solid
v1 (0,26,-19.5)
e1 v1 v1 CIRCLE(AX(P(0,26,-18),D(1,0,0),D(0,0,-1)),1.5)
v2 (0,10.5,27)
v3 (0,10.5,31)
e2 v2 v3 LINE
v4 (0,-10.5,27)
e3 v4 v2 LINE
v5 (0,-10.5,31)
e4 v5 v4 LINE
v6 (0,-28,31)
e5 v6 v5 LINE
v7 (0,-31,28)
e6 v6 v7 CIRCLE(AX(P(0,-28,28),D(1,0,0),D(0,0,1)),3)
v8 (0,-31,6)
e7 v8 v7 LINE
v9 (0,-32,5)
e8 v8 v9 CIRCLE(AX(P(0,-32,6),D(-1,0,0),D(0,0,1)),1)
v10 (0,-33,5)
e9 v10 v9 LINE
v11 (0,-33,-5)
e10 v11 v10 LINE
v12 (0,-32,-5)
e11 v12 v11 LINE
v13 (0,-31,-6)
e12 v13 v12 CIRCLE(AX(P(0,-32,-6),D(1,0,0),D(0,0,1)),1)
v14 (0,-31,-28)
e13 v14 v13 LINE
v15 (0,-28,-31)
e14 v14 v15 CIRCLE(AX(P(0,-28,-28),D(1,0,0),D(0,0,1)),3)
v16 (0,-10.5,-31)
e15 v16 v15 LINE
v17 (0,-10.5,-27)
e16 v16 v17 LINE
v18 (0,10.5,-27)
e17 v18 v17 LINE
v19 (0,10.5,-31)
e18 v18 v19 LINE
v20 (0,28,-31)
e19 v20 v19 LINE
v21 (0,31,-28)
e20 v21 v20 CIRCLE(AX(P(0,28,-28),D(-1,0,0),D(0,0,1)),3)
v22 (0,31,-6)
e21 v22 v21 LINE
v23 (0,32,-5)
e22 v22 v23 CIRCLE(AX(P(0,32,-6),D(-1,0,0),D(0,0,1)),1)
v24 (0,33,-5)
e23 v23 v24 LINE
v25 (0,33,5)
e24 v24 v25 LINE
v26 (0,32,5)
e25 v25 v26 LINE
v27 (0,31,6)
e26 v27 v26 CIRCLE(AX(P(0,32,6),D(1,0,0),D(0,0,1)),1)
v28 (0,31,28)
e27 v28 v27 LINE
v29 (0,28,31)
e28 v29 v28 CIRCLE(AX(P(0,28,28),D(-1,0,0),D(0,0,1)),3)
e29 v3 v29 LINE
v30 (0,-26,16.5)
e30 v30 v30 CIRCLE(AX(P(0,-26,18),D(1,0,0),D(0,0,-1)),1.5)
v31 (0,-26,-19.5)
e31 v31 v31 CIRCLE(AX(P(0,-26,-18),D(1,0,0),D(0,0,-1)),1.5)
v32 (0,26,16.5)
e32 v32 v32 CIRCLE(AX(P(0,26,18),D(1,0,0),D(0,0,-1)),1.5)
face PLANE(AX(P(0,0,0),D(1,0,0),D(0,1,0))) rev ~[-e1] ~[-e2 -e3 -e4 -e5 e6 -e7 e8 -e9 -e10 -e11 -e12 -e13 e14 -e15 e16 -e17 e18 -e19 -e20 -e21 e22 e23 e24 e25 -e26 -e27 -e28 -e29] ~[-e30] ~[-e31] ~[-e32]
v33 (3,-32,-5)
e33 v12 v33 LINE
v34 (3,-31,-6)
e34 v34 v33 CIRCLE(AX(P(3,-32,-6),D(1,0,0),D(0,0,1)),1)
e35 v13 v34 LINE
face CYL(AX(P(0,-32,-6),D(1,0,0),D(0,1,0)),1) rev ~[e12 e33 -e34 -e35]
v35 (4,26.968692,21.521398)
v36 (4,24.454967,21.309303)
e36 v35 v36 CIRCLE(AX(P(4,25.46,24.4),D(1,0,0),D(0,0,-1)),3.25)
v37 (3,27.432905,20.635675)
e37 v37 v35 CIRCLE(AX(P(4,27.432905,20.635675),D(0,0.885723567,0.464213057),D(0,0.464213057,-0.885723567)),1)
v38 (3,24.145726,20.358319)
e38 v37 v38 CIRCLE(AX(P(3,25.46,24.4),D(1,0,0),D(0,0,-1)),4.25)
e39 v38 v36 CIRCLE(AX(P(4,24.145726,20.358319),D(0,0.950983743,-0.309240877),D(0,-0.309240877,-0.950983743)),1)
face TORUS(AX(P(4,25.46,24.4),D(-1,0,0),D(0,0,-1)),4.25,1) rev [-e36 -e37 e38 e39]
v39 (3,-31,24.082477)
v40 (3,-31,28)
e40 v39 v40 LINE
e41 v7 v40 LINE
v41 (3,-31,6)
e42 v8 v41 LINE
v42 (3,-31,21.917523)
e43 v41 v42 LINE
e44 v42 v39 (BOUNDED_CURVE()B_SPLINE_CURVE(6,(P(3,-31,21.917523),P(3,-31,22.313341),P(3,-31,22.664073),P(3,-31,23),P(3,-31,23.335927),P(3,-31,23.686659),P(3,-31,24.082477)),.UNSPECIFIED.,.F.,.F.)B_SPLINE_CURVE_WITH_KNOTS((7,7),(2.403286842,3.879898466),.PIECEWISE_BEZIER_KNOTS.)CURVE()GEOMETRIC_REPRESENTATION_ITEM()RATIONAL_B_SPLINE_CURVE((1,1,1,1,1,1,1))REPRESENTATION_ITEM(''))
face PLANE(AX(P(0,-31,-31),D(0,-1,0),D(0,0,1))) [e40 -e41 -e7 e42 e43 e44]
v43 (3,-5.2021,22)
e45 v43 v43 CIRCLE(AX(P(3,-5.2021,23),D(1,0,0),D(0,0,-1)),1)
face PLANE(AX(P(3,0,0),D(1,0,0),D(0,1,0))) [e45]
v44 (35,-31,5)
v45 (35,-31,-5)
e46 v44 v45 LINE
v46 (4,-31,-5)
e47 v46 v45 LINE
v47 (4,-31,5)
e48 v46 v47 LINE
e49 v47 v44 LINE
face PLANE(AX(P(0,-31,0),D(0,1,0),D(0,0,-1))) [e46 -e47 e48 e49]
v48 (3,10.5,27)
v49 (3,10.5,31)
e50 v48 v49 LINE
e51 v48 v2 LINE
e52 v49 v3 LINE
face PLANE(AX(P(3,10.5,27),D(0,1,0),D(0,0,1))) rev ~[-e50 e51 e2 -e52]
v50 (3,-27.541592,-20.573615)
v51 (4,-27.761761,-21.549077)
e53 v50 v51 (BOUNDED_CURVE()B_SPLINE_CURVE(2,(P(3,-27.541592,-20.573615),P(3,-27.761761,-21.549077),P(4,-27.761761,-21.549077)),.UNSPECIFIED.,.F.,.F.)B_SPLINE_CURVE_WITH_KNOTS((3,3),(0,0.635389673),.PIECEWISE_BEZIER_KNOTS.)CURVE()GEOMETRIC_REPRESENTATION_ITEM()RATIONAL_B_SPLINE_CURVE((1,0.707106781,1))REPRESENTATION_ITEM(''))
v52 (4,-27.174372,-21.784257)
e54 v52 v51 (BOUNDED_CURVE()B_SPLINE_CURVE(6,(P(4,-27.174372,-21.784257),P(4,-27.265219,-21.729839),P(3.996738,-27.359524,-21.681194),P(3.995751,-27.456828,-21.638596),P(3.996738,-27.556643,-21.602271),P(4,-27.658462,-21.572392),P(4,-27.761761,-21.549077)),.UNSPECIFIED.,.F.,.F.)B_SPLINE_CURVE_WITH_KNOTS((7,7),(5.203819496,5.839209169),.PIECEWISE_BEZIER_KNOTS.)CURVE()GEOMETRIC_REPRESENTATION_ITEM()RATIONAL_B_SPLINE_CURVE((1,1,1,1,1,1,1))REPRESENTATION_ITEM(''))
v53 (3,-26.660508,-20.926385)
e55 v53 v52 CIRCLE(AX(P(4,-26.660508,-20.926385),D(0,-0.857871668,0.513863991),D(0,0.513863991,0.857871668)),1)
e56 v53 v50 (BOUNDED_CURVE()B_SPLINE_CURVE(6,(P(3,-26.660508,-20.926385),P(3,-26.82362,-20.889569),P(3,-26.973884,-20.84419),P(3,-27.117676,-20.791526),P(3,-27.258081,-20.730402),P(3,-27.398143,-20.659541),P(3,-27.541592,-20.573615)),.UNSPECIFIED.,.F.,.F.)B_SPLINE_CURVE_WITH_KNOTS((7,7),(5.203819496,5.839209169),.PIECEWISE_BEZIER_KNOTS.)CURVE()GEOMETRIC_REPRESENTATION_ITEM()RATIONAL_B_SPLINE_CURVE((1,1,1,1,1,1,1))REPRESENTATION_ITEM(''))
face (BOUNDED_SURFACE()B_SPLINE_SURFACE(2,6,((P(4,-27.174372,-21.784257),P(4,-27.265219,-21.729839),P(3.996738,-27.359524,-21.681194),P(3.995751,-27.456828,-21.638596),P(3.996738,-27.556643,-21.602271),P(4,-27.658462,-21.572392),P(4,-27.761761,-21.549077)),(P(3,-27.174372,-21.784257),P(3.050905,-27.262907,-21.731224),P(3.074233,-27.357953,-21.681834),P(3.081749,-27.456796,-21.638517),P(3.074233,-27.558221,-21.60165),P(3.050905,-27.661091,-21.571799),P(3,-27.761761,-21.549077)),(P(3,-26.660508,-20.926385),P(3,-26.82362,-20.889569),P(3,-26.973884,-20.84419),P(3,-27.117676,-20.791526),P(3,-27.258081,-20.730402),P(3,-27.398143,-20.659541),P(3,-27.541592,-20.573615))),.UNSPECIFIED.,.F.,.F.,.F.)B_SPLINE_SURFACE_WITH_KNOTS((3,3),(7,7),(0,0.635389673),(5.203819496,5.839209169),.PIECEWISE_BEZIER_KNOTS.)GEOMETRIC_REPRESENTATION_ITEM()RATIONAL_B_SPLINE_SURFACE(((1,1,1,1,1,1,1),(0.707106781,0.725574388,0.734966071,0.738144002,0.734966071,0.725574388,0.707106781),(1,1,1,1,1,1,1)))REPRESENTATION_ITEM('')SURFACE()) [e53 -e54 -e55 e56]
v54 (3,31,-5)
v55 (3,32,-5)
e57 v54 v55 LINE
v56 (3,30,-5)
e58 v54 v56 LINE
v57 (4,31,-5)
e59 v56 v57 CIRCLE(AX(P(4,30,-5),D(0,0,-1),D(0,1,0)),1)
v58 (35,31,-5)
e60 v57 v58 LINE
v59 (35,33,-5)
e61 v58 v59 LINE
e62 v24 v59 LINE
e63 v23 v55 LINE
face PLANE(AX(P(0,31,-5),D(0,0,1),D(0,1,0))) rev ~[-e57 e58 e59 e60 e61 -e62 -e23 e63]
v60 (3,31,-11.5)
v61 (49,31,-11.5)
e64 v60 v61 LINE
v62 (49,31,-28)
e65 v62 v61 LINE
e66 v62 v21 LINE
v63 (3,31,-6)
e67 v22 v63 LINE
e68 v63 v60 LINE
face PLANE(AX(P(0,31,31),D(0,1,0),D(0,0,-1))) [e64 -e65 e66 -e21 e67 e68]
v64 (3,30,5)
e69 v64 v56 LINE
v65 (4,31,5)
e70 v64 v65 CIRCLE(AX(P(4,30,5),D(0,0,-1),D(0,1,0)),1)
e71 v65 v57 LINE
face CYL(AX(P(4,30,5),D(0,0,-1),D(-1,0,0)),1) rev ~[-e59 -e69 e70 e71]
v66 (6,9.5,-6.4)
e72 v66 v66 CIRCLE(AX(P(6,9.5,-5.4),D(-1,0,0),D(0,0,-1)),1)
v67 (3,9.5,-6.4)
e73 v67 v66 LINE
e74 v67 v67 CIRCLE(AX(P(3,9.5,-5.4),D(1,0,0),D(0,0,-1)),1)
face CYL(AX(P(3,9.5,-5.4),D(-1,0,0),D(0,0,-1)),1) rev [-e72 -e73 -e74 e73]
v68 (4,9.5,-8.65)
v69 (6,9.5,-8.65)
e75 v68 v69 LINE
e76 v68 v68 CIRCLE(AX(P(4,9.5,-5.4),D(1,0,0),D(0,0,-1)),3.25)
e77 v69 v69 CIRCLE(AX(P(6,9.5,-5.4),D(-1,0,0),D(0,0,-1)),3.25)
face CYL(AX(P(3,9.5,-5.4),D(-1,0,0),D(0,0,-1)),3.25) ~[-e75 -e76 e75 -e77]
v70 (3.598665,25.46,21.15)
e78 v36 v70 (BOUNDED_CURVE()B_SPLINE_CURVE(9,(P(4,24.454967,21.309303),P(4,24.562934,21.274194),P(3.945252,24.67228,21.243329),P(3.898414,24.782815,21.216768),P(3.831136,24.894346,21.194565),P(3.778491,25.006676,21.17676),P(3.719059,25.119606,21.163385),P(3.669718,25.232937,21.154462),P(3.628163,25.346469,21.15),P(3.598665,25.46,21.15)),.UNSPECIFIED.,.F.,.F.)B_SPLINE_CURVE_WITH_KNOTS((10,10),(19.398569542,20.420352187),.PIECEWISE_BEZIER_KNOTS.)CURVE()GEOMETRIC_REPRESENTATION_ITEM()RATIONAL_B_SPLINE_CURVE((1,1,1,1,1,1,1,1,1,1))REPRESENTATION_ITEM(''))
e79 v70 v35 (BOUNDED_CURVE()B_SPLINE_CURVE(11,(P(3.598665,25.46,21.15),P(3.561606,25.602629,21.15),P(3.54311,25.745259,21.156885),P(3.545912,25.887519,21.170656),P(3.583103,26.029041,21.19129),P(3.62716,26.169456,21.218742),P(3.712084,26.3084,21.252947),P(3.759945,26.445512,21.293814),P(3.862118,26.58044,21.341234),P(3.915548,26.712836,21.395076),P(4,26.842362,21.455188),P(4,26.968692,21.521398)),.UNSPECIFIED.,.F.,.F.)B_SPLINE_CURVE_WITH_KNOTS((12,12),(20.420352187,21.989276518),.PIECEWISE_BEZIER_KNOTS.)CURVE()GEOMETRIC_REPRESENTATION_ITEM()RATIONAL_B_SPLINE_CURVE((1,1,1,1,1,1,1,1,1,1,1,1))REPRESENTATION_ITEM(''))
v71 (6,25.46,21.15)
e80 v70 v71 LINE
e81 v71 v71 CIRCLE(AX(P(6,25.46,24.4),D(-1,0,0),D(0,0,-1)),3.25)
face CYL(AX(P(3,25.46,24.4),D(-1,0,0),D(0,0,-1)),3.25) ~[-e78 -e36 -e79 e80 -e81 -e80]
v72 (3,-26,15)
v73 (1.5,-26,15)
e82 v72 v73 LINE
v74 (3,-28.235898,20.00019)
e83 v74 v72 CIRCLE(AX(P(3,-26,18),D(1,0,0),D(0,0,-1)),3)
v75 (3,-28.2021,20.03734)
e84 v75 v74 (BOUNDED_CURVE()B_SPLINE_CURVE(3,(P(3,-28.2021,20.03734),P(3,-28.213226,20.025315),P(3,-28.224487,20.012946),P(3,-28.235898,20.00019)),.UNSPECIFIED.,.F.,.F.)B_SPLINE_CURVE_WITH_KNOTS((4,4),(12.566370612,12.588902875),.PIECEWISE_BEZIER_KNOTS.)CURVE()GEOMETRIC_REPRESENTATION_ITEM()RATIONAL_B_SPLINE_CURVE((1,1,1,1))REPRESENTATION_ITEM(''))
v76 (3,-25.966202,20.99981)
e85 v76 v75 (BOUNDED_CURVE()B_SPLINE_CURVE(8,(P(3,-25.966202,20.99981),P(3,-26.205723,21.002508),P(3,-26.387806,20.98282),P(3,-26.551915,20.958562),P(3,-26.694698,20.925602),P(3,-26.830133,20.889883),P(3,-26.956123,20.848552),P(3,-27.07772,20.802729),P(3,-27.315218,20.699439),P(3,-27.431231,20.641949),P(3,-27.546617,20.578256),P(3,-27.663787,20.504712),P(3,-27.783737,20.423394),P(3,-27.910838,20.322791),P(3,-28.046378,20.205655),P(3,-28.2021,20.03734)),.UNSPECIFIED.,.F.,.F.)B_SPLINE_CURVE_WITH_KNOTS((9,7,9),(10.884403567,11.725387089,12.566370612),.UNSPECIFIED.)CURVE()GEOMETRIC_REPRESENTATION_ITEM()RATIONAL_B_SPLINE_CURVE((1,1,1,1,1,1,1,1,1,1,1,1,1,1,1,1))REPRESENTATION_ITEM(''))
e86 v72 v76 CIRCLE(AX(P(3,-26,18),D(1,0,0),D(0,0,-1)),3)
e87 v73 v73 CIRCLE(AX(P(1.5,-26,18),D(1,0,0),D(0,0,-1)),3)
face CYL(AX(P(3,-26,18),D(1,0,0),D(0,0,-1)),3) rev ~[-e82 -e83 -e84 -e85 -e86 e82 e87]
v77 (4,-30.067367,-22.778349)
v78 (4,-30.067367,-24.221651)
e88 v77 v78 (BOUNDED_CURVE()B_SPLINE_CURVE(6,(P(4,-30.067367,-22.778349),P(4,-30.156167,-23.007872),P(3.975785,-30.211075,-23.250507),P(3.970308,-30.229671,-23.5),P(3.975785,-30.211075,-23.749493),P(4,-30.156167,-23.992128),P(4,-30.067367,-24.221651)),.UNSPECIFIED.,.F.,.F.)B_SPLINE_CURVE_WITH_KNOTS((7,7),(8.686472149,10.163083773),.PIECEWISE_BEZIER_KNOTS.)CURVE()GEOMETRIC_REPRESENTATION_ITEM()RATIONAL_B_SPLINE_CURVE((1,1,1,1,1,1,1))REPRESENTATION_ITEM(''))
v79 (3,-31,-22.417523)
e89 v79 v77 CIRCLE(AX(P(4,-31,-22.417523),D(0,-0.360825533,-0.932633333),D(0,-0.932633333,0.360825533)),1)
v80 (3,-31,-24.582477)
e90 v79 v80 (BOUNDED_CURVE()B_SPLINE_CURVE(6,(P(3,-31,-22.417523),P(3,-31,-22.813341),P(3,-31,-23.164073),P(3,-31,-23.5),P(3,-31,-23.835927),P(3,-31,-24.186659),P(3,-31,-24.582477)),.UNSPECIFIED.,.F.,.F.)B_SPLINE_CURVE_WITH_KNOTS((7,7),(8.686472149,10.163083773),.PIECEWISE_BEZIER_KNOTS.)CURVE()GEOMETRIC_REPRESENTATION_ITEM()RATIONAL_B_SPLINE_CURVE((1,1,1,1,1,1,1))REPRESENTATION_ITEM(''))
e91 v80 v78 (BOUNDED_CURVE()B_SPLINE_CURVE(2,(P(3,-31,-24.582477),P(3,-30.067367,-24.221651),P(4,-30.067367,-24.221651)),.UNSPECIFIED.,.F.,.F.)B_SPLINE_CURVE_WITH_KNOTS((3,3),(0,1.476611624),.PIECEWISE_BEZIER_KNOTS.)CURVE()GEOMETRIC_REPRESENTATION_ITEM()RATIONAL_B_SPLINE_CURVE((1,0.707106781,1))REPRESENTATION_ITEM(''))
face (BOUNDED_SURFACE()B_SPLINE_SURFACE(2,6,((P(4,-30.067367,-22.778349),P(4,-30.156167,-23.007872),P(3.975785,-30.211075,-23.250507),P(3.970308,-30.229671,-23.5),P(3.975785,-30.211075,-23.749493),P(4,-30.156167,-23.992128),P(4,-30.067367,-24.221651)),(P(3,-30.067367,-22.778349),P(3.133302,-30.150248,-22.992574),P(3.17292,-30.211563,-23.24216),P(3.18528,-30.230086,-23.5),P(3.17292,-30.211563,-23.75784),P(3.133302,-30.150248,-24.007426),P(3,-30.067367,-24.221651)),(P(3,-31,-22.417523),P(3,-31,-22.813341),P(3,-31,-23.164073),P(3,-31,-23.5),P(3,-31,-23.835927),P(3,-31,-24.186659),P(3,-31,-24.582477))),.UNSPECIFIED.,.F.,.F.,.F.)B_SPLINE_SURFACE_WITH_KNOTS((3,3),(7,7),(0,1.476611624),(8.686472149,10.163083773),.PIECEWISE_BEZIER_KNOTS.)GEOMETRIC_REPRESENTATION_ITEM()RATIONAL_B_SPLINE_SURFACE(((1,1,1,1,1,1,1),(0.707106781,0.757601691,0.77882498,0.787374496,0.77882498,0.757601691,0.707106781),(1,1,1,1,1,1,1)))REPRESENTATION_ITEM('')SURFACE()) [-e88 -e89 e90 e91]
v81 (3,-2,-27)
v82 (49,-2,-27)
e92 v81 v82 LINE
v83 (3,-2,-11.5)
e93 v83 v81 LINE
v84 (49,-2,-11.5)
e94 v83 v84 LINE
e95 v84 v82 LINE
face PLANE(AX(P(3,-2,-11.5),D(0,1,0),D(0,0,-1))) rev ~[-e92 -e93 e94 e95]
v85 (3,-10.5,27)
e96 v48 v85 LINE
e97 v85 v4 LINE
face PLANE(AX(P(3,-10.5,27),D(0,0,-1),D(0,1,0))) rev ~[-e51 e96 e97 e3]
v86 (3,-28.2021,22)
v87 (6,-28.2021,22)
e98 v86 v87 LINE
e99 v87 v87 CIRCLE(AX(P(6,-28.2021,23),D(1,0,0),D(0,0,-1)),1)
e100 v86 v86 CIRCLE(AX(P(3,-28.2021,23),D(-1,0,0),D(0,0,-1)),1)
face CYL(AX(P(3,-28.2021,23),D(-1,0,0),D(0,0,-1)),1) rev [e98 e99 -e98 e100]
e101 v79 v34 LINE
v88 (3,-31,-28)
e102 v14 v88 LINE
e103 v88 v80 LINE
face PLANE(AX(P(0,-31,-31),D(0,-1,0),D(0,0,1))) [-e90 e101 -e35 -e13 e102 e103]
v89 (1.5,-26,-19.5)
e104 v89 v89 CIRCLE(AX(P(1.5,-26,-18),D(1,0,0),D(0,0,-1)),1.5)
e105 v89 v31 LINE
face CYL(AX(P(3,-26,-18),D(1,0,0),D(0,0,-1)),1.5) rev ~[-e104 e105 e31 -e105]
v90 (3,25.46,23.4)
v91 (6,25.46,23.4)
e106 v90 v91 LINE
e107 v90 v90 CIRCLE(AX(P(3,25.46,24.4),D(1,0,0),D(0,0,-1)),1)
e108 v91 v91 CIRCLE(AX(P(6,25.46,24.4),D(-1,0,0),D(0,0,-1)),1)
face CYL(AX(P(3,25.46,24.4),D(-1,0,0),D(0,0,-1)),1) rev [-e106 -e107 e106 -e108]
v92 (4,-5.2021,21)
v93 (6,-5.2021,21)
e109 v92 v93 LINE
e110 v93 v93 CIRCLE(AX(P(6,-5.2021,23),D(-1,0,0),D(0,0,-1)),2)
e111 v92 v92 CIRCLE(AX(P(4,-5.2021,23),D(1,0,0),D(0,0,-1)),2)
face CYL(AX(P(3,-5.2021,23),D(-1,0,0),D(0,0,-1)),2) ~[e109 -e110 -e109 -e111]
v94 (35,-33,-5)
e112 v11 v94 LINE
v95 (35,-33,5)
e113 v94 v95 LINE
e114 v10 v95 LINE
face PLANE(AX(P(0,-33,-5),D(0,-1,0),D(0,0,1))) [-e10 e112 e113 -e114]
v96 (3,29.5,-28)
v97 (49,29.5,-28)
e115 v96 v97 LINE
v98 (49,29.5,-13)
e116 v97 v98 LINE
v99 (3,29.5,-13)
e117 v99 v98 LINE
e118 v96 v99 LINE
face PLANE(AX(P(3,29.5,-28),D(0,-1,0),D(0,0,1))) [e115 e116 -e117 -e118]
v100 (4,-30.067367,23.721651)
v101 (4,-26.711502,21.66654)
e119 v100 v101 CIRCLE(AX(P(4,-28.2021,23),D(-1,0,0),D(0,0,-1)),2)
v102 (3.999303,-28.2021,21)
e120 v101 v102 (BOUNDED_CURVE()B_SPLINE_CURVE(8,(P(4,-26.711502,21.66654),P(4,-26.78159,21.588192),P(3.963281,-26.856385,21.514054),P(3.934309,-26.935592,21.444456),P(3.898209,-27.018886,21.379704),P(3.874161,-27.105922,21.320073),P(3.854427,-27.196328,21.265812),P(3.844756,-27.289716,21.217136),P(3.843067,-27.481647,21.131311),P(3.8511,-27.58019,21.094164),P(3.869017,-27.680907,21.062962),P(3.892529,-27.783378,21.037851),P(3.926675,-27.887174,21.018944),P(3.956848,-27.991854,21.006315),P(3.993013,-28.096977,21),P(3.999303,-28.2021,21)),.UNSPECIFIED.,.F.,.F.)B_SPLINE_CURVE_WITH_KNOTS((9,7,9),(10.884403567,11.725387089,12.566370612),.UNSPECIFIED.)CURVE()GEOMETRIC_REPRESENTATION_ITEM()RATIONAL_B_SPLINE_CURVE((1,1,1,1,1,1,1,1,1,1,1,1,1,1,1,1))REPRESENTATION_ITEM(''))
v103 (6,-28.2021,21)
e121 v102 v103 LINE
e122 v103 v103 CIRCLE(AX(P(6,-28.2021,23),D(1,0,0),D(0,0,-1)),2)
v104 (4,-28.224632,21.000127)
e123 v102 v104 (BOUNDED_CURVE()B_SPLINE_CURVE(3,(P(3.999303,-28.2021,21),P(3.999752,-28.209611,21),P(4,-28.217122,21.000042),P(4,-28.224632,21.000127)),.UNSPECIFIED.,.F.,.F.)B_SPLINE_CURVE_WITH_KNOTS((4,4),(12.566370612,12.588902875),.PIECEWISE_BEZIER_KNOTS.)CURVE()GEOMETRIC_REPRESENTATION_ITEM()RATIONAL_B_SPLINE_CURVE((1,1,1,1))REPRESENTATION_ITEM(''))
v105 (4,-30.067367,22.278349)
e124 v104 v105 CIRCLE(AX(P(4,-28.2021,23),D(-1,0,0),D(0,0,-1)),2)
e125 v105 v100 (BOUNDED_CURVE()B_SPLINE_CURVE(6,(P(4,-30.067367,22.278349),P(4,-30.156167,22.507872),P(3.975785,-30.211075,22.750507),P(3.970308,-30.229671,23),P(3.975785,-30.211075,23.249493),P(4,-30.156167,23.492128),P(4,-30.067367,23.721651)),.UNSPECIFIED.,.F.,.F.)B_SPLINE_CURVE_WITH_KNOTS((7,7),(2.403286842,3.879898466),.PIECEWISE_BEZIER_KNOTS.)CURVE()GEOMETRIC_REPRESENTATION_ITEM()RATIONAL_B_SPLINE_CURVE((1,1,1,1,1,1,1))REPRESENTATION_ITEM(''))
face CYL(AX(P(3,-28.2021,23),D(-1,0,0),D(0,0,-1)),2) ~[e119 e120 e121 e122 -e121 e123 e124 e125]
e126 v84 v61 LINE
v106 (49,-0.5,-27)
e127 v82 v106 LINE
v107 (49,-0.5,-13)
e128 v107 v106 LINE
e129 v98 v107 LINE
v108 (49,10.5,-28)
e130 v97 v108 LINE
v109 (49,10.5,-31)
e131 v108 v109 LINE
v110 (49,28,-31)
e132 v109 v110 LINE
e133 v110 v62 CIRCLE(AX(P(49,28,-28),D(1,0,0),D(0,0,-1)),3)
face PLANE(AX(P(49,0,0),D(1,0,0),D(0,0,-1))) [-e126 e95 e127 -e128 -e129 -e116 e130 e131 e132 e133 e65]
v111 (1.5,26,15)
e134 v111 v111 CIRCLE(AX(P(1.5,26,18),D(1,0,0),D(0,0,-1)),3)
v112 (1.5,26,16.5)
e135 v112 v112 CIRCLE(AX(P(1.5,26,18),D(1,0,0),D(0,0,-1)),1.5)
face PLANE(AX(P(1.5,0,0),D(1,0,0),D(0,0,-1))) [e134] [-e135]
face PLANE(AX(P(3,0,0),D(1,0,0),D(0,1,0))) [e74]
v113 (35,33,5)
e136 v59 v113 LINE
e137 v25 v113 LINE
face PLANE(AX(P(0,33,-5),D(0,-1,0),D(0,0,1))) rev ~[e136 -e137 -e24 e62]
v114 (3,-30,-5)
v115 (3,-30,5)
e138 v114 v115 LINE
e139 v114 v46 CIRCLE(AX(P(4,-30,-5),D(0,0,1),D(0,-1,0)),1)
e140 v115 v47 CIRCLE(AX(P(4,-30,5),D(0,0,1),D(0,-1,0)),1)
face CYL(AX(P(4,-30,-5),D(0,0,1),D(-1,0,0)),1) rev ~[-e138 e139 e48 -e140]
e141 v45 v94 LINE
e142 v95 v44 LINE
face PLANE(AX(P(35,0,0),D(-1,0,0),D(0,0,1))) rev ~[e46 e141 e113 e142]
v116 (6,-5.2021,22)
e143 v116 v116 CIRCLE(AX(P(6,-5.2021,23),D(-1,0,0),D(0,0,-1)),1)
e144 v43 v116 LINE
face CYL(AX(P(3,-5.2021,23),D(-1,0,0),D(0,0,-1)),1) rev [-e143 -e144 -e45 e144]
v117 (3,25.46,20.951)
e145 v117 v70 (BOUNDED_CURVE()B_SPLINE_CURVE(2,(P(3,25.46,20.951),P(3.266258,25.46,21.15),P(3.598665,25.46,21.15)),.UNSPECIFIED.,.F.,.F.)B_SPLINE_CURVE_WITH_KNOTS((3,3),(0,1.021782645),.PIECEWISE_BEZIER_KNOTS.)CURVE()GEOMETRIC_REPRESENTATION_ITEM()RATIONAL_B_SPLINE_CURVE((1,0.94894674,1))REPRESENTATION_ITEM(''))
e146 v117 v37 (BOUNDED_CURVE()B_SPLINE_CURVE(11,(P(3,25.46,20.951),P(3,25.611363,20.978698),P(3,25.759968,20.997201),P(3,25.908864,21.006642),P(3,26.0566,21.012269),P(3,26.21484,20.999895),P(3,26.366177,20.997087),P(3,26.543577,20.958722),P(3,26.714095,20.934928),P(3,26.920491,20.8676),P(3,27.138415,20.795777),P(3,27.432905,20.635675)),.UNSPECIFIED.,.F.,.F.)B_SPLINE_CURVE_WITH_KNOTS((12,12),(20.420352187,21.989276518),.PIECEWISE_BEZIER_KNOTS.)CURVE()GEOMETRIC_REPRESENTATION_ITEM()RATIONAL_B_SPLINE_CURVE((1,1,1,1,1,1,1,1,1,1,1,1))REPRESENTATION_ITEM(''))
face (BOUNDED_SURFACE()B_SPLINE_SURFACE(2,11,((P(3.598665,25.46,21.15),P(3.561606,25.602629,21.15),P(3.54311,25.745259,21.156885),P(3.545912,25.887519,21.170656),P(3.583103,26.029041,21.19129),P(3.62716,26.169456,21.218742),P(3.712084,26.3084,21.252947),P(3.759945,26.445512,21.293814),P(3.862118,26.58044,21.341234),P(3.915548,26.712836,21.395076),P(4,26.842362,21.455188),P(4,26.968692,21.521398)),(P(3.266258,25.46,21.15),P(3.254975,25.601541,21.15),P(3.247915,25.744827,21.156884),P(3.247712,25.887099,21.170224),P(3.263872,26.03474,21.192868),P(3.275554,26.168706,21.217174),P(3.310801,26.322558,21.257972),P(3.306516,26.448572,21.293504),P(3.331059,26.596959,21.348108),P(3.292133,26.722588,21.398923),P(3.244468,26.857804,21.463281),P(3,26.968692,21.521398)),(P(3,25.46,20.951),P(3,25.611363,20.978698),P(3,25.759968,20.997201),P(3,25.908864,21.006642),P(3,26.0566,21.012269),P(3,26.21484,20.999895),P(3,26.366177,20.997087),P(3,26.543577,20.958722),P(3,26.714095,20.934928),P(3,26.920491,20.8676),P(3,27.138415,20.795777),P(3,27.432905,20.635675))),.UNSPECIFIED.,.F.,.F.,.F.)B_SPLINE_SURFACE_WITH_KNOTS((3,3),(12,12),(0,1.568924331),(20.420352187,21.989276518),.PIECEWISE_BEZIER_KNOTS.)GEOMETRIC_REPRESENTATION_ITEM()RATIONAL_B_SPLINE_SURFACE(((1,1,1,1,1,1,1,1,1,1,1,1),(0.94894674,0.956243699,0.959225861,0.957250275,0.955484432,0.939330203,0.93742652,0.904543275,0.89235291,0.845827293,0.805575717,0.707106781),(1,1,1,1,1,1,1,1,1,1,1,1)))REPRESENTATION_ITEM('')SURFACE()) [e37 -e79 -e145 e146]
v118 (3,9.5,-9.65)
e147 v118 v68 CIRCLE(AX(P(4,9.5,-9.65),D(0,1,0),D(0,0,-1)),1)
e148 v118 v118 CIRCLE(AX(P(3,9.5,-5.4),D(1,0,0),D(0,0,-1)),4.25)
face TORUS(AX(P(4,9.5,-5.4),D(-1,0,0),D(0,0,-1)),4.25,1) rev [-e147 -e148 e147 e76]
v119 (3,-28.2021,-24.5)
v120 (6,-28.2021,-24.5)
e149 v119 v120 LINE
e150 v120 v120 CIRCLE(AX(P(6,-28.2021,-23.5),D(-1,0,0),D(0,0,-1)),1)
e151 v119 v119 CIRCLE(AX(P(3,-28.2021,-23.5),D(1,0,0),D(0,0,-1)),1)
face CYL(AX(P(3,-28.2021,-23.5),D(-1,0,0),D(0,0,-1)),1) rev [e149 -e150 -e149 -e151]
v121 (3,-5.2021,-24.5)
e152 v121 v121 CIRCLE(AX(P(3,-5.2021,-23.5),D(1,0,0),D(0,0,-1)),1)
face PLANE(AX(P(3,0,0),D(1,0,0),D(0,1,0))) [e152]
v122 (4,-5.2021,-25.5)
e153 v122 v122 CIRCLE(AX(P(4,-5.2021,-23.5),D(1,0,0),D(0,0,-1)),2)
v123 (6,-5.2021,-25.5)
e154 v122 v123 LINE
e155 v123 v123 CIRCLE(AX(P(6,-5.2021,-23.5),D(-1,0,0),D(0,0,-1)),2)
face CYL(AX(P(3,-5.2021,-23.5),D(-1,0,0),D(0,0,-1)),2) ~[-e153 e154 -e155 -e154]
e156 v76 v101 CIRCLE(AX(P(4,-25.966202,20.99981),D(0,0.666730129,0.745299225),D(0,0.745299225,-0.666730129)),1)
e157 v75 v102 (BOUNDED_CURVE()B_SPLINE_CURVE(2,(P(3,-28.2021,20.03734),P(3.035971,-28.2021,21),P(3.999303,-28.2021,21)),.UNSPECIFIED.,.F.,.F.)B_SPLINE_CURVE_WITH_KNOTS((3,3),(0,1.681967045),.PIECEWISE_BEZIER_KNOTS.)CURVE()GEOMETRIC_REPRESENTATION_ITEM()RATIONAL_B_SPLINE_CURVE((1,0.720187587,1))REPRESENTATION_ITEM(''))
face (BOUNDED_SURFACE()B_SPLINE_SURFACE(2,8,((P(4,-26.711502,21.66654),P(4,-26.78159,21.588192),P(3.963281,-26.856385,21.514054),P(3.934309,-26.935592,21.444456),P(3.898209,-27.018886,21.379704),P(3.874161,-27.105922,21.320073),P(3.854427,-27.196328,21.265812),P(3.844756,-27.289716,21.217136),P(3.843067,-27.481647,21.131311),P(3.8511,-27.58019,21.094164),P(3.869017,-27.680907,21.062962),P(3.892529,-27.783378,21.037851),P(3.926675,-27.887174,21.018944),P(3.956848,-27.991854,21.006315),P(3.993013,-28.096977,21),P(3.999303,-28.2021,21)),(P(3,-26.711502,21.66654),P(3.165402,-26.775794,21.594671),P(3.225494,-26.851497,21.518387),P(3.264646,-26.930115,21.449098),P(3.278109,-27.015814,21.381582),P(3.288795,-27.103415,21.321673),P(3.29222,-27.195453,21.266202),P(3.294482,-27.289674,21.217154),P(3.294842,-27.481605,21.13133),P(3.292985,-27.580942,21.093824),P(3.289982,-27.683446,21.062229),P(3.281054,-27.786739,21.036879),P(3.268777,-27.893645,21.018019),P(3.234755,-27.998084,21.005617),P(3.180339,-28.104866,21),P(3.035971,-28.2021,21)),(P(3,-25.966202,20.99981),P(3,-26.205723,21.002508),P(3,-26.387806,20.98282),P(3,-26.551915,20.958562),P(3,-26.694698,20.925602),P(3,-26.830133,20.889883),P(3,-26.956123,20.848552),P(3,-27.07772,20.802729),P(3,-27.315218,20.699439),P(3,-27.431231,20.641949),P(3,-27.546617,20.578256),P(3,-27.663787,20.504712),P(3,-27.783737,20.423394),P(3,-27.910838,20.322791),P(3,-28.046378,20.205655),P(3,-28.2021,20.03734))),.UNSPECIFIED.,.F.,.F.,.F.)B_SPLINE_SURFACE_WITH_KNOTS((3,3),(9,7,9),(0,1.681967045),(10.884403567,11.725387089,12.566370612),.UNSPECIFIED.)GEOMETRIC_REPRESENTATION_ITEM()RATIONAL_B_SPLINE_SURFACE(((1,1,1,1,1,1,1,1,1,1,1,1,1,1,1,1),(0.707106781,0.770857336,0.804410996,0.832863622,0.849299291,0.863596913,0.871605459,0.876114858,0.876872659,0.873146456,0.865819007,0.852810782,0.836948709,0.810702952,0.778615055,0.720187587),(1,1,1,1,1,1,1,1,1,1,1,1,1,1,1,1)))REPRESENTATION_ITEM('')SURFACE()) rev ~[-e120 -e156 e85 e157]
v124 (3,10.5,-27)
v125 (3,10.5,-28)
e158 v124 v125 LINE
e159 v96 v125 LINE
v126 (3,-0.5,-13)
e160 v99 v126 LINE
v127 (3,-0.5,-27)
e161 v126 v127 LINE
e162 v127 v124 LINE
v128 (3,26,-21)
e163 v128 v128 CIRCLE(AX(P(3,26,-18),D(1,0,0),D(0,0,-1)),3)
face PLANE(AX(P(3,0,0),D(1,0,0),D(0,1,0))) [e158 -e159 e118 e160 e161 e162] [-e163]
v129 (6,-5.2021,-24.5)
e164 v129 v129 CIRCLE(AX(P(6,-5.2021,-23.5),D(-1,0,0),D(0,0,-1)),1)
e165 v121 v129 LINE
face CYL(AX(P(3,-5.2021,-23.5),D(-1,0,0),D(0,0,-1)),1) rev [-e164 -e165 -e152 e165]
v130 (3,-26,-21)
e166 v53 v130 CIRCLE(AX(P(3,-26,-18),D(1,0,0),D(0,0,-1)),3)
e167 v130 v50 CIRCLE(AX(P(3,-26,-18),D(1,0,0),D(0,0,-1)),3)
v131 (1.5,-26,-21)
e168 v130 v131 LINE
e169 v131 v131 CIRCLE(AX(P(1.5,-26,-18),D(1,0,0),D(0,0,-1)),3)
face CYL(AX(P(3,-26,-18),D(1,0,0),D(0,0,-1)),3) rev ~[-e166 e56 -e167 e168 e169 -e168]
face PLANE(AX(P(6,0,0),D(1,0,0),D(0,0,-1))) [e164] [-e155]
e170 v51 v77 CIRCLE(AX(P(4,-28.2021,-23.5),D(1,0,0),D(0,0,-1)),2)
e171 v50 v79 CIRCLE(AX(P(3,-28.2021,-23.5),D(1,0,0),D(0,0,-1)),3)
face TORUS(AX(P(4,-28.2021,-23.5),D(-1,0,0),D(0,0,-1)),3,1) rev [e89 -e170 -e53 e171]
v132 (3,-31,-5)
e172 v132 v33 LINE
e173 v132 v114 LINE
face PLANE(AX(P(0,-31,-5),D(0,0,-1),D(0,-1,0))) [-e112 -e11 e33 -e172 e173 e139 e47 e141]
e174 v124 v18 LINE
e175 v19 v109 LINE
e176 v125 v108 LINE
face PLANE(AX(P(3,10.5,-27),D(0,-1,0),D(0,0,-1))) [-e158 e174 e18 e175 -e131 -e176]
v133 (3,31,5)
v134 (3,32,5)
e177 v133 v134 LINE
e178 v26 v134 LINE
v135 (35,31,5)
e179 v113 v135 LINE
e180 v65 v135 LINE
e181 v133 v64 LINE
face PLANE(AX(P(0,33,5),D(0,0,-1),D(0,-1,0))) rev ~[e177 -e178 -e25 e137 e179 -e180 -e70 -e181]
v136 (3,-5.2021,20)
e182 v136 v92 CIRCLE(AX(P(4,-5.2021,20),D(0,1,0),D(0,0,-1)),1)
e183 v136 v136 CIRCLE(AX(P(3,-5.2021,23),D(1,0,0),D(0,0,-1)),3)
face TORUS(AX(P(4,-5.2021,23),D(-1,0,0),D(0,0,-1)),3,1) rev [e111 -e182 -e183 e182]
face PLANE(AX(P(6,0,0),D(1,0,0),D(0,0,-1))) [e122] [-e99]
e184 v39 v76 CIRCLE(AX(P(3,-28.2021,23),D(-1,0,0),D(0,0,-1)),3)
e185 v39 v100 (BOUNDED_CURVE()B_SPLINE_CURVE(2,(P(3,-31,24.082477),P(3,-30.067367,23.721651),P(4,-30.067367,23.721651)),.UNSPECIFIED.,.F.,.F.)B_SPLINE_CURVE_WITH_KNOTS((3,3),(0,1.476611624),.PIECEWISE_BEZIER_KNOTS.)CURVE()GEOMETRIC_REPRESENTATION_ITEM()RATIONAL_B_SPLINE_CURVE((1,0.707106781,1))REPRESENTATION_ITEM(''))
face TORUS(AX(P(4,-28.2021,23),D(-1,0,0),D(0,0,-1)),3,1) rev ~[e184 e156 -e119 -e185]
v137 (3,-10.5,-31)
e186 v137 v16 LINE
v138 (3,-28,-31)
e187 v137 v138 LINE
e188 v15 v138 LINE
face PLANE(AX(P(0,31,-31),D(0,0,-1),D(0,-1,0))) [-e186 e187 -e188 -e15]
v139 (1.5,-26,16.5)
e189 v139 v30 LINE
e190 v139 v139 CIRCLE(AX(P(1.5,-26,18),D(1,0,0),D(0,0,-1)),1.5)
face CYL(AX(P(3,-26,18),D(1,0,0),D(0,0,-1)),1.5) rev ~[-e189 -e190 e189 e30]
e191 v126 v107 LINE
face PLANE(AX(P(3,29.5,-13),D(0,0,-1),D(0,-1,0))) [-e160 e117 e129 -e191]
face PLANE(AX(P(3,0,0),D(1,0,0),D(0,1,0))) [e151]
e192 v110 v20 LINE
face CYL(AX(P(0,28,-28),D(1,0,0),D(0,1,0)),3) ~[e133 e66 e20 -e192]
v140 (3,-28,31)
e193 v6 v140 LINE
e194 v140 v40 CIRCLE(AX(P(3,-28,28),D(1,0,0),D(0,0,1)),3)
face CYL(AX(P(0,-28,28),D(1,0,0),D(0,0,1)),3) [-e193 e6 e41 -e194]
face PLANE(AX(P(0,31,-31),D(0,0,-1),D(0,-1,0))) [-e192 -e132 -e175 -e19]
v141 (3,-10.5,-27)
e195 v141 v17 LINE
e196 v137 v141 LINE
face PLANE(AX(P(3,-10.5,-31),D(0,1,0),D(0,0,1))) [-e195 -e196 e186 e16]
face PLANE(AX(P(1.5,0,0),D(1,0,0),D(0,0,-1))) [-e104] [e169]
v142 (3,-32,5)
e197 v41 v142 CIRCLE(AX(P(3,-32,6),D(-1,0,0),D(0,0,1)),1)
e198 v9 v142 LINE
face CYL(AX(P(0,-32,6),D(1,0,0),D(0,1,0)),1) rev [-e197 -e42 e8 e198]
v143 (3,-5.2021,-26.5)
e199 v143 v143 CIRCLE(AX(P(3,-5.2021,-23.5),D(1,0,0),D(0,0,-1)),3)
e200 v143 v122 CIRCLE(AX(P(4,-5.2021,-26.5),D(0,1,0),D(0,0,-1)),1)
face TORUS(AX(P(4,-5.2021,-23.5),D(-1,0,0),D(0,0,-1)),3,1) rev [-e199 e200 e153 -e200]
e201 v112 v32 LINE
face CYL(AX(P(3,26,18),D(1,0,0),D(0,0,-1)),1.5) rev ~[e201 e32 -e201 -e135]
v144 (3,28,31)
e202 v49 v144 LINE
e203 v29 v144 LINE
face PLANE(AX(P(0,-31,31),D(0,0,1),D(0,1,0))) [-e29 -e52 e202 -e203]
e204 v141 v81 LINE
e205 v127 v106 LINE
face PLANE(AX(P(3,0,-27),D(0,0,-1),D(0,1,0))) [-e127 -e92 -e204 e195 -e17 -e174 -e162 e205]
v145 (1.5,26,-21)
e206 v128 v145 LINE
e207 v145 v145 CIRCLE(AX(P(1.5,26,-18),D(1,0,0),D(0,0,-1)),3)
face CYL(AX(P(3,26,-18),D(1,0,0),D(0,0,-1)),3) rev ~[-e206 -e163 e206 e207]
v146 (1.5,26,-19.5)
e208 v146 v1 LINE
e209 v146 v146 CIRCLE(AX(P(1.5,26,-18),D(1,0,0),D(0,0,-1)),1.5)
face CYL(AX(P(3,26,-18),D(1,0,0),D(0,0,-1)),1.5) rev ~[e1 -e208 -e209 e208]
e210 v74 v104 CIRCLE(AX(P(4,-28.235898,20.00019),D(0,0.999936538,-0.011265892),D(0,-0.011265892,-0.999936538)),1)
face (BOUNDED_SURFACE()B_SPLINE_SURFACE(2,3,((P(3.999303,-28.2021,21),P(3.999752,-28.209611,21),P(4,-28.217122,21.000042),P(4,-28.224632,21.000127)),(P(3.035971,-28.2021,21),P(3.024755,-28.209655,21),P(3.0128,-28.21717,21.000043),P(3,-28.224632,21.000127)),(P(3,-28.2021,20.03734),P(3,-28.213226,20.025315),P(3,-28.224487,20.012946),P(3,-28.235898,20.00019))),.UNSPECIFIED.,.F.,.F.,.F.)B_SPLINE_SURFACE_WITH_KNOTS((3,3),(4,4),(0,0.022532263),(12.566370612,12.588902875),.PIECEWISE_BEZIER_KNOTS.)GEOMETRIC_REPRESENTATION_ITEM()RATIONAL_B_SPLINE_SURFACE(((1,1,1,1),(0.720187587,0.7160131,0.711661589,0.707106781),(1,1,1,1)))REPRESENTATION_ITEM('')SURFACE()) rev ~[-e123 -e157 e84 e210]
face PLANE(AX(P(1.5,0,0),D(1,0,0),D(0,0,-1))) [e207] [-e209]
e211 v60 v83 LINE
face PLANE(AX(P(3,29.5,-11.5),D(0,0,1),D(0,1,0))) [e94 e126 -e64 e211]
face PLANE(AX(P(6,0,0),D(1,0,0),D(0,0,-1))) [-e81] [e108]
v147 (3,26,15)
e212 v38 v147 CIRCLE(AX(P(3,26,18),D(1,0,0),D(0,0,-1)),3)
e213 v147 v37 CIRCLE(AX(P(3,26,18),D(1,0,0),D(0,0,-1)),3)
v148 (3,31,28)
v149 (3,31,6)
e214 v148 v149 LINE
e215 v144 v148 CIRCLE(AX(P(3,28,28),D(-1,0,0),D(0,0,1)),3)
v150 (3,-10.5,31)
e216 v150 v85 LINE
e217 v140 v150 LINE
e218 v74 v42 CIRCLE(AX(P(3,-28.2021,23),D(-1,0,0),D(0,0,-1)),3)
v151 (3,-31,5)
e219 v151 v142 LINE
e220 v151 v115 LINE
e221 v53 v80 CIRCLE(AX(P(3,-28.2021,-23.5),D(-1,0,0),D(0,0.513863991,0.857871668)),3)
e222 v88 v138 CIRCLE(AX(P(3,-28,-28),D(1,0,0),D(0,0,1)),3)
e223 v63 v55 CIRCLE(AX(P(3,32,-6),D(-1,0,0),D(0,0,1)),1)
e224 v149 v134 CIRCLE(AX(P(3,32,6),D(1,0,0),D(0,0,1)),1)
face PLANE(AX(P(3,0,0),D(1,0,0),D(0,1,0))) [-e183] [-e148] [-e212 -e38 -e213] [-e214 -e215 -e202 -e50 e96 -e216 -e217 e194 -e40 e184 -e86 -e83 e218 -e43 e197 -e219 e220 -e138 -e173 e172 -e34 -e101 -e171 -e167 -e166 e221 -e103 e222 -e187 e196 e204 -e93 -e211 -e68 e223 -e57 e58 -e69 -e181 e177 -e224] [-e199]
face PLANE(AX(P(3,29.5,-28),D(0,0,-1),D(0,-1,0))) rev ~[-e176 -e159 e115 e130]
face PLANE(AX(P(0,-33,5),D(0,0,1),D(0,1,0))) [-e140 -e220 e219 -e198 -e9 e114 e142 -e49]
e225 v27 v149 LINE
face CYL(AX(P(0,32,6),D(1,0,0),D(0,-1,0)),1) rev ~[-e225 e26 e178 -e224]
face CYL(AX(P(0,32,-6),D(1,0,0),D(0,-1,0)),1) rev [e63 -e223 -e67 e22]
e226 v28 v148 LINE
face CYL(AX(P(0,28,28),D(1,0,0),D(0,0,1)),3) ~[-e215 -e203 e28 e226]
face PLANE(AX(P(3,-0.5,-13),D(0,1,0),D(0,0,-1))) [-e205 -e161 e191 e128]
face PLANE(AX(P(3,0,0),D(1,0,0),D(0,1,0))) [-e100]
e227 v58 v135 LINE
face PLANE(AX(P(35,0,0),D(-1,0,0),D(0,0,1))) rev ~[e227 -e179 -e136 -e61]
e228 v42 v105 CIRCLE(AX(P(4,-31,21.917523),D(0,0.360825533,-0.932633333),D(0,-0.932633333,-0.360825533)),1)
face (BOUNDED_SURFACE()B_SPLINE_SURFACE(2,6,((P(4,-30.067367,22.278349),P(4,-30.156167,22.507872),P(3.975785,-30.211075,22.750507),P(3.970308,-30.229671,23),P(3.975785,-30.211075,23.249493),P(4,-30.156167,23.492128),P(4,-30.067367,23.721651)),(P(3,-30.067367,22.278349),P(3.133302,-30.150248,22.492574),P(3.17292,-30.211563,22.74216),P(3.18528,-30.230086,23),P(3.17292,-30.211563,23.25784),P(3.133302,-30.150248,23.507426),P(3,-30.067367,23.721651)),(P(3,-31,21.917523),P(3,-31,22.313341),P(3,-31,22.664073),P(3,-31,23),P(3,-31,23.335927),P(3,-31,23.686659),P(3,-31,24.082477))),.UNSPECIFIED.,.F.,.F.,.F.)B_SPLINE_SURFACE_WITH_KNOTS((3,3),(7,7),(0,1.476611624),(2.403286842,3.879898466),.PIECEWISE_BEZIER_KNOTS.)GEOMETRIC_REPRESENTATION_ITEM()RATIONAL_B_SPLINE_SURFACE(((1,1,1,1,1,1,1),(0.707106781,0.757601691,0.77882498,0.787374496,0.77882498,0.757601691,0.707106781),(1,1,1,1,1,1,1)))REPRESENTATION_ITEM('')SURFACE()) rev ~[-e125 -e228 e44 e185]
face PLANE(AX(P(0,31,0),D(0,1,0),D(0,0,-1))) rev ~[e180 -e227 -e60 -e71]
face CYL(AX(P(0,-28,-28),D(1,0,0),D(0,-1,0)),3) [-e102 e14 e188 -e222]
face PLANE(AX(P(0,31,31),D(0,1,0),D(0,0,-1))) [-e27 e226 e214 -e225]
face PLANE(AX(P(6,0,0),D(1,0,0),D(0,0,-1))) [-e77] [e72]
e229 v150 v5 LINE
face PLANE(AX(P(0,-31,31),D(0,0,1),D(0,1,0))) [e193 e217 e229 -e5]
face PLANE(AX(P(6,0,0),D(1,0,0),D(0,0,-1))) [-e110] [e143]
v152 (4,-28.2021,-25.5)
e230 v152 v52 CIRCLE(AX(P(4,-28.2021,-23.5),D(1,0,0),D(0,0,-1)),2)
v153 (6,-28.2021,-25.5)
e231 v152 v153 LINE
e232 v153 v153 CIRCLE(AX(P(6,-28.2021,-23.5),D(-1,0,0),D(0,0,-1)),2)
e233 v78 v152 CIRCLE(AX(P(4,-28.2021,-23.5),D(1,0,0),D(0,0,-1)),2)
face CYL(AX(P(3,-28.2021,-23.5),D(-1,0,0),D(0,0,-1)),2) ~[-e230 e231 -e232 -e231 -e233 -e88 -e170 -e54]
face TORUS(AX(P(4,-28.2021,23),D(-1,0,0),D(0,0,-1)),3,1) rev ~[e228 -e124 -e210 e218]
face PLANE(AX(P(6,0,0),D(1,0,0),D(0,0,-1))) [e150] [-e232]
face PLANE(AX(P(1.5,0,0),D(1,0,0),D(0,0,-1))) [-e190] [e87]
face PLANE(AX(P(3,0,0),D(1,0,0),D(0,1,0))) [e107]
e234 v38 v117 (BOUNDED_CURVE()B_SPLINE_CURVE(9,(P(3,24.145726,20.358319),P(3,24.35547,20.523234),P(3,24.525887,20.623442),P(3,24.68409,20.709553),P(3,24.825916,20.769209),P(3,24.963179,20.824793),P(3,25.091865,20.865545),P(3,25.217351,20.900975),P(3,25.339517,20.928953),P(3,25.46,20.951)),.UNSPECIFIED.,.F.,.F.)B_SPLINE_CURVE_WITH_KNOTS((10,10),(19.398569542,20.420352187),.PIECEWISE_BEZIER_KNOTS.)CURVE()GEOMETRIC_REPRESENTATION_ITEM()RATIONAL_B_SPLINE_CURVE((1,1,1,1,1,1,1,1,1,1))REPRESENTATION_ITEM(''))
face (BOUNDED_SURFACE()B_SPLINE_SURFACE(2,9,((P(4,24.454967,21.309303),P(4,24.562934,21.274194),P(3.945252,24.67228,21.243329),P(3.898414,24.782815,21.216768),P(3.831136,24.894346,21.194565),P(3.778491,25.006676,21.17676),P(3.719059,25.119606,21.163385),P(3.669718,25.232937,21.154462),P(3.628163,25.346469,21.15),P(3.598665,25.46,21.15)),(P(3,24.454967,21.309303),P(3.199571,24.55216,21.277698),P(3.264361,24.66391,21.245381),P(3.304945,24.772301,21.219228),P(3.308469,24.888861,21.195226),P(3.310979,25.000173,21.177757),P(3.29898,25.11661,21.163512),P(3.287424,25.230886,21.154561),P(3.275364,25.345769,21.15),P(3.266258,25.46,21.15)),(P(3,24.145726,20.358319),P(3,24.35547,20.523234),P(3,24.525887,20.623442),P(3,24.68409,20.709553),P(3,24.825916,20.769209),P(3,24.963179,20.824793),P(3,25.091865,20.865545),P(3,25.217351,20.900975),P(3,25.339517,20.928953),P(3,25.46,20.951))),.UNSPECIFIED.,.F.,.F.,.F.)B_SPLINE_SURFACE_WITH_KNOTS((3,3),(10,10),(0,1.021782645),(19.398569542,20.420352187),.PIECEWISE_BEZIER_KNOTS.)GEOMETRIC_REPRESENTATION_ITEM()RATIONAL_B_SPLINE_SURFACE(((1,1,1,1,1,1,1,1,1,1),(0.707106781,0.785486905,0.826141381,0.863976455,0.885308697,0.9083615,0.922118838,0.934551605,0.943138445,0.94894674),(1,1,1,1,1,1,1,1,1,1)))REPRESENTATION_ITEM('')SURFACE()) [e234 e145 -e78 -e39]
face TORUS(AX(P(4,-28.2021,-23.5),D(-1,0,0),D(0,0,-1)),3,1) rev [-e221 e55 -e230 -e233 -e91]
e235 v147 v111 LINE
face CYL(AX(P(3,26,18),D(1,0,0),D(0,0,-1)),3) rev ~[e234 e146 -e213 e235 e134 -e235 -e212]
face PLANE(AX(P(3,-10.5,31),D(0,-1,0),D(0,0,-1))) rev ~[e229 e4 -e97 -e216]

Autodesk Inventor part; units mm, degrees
ref_plane "YZ Plane" through (0, 0, 0) normal (1, 0, 0) x (0, 1, 0)
ref_plane "XZ Plane" through (0, 0, 0) normal (0, 1, 0) x (-1, 0, 0)
ref_plane "XY Plane" through (0, 0, 0) normal (0, 0, 1) x (1, 0, 0)
sketch "Boceto1" plane through (0, 0, 0) normal (1, 0, 0) x (0, 1, 0)
  line L0 (-31, 31) -> (31, 31)
  line L1 (31, 31) -> (31, -31)
  line L2 (31, -31) -> (-31, -31)
  line L3 (-31, -31) -> (-31, 31)
  line L4 (-31, 31) -> (31, -31) construction
  line L5 (31, 31) -> (-31, -31) construction
  point P0 (0, 0)
  dimension "d0" = 62
  dimension "d1" = 62
extrude "Extrusión1" add sketch "Boceto1" along normal blind 3
sketch "Boceto2" plane through (3, 0, 0) normal (1, 0, 0) x (0, 0, -1)
  line L0 (0, 0) -> (18, 0)
  line L1 (18, 0) -> (18, 26)
  line L2 (18, 26) -> (-18, 26)
  line L3 (-18, 26) -> (-18, -26)
  line L4 (-18, -26) -> (18, -26)
  circle A0 centre (-18, 26) radius 1.5
  circle A1 centre (18, 26) radius 1.5
  circle A2 centre (-18, -26) radius 1.5
  circle A3 centre (18, -26) radius 1.5
  dimension "d4" = 18
  dimension "d5" = 26
  dimension "d6" = 36
  dimension "d7" = 52
  dimension "d8" = 3
  dimension "d9" = 3
  dimension "d10" = 3
  dimension "d11" = 3
extrude "Extrusión2" cut sketch "Boceto2" against normal blind 3
fillet "Empalme1" radius 3 4 edges at (1.5, 31, 31) (1.5, 31, -31) (1.5, -31, 31) (1.5, -31, -31)
sketch "Boceto3" plane through (3, 0, 0) normal (1, 0, 0) x (0, 0, -1)
  circle A0 centre (-18, 26) radius 1.5 projected
  circle A1 centre (-18, 26) radius 3
  circle A2 centre (18, 26) radius 1.5 projected
  circle A3 centre (18, 26) radius 3
  circle A4 centre (18, -26) radius 1.5 projected
  circle A5 centre (18, -26) radius 3
  circle A6 centre (-18, -26) radius 1.5 projected
  circle A7 centre (-18, -26) radius 3
  point P0 (0, 0)
  dimension "d15" = 6
  dimension "d16" = 6
  dimension "d17" = 6
  dimension "d18" = 6
extrude "Extrusión3" cut sketch "Boceto3" against normal blind 1.5 contours A0 | A1 | A2 | A3 | A5 | A7
sketch "Boceto4" plane through (3, 0, 0) normal (1, 0, 0) x (0, 0, -1)
  line L0 (0, 0) -> (-27, 0)
  line L1 (0, 0) -> (-31, 0)
  line L2 (-31, 28) -> (-31, -28) projected
  line L3 (-27, 0) -> (-27, 10.5)
  line L4 (-27, 10.5) -> (-31, 10.5)
  line L5 (-31, 10.5) -> (-31, -10.5)
  line L6 (-31, -10.5) -> (-27, -10.5)
  line L7 (-27, -10.5) -> (-27, 0)
  line L8 (0, 12.3803) -> (0, 8.7582)
  line L9 (27, 0) -> (27, 10.5)
  line L10 (27, 10.5) -> (31, 10.5)
  line L11 (31, 10.5) -> (31, -10.5)
  line L12 (31, -10.5) -> (27, -10.5)
  line L13 (27, -10.5) -> (27, 0)
  point P0 (31, 0)
  dimension "d21" = 27
  dimension "d22" = 31
  dimension "d23" = 10.5
  dimension "d24" = 21
extrude "Extrusión4" cut sketch "Boceto4" against normal blind 3
sketch "Boceto5" plane through (3, 0, 0) normal (1, 0, 0) x (0, 0, -1)
  arc A0 (-28, 31) -> (-31, 28) centre (-28, 28) ccw projected
  line L0 (-28, 28) -> (15, 28)
  line L1 (15, 28) -> (15, 7)
  line L2 (15, 7) -> (-28, 7)
  line L3 (-28, 28) -> (-28, 25.46)
  line L4 (-28, 25.46) -> (-21.4, 25.46)
  line L5 (15, 7) -> (15, 9.5)
  line L6 (15, 9.5) -> (8.4, 9.5)
  circle A1 centre (-21.4, 25.46) radius 1
  circle A2 centre (8.4, 9.5) radius 1
  circle A3 centre (-21.4, 25.46) radius 3.25
  circle A4 centre (8.4, 9.5) radius 3.25
  circle A5 centre (-18, 26) radius 1.5 projected
  circle A6 centre (-18, 26) radius 3 projected
  line L7 (-28, 28) -> (-31, 28)
  line L8 (-31, 28) -> (12, 28)
  line L9 (12, 7) -> (-31, 7)
  circle A7 centre (5.4, 9.5) radius 1
  line L10 (12, 28) -> (12, 7)
  circle A8 centre (5.4, 9.5) radius 3.25
  line L11 (12, 9.5) -> (5.4, 9.5)
  line L12 (12, 7) -> (12, 9.5)
  circle A9 centre (-24.4, 25.46) radius 1
  line L13 (-31, 25.46) -> (-24.4, 25.46)
  line L14 (-31, 28) -> (-31, 25.46)
  line L15 (-31, 28) -> (-34, 28)
  circle A10 centre (-24.4, 25.46) radius 3.25
  point P0 (0, 0)
  point P1 (-19.0678, 23.1965)
  point P2 (-19.8839, 28.3347)
  point P3 (-21, 26)
  point P4 (-21, 26)
  point P5 (-31, 31)
  dimension "d27" = 43
  dimension "d28" = 21
  dimension "d29" = 2.54
  dimension "d30" = 6.6
  dimension "d31" = 2.5
  dimension "d32" = 6.6
  dimension "d33" = 2
  dimension "d34" = 2
  dimension "d35" = 6.5
  dimension "d36" = 6.5
  dimension "d65" = 3
  dimension "d68" = 3
extrude "Extrusión5" add sketch "Boceto5" along normal blind 3 contours A10 L0 A3 | A3 L0 A10 | A8 A2 L11 A7 A4 | A4 A7 L2 A8 | A10 A1 L4 A9 A3 L0 | A10 L4 A9 A3 | A3 A9 L4 A1 A10 | A3 A9 L4 A10 L0 | A8 A2 L11 L6 | L6 L11 A2 A8 | A8 L2 A4 A7 L11 A2 | L2 A4 A8 | A8 A4 L2 | A10 A1 picked at (4.536, 6.8619) picked at (7.0312, 6.9529)
fillet "Empalme2" radius 1 2 edges at (3, 25.46, 27.65) (3, 9.5, -2.15)
sketch "Boceto6" plane through (3, 0, 0) normal (1, 0, 0) x (0, 0, -1)
  line L0 (-31, -35) -> (-31, -21.2021)
  line L1 (-31, 28) -> (-31, -28) projected
  line L2 (-31, -21.2021) -> (-23, -21.2021)
  line L3 (-23, -21.2021) -> (-23, 1.7979)
  line L4 (-23, 1.7979) -> (23.5, 1.7979)
  line L5 (23.5, 1.7979) -> (23.5, -21.2021)
  line L6 (23.5, -21.2021) -> (-23, -21.2021)
  line L7 (-1.735, -21.2021) -> (-1.735, -27.2021)
  circle A0 centre (23.5, 1.7979) radius 2
  circle A1 centre (23.5, -21.2021) radius 2
  circle A2 centre (-23, -21.2021) radius 2
  circle A3 centre (-23, 1.7979) radius 2
  circle A4 centre (-23, 1.7979) radius 1
  circle A5 centre (23.5, -21.2021) radius 1
  circle A6 centre (-23, -21.2021) radius 1
  circle A7 centre (23.5, 1.7979) radius 1
  line L8 (-23, -5.2021) -> (23.5, -5.2021)
  line L9 (23.5, -28.2021) -> (-23, -28.2021)
  line L10 (-1.735, -28.2021) -> (-1.735, -34.2021)
  circle A8 centre (-23, -5.2021) radius 1
  line L11 (-23, -28.2021) -> (-23, -5.2021)
  circle A9 centre (-23, -28.2021) radius 2
  circle A10 centre (-23, -5.2021) radius 2
  line L12 (23.5, -5.2021) -> (23.5, -28.2021)
  circle A11 centre (23.5, -28.2021) radius 1
  circle A12 centre (23.5, -5.2021) radius 1
  circle A13 centre (23.5, -28.2021) radius 2
  circle A14 centre (23.5, -5.2021) radius 2
  line L13 (-31, -28.2021) -> (-23, -28.2021)
  circle A15 centre (-23, -28.2021) radius 1
  point P0 (0, 0)
  point P1 (0, -7)
  point P2 (-31, -35)
  dimension "d40" = 23
  dimension "d41" = 46.5
  dimension "d42" = 8
  dimension "d43" = 13.7979
  dimension "d44" = 6
  dimension "d45" = 4
  dimension "d46" = 4
  dimension "d47" = 4
  dimension "d48" = 4
  dimension "d49" = 2
  dimension "d50" = 2
  dimension "d51" = 2
  dimension "d52" = 2
  dimension "d81" = 7
extrude "Extrusión6" add sketch "Boceto6" along normal up to surface (3 mm away) contours L13 A15 L9 A9 | A9 L11 A15 L13 | A9 L9 A15 L11 | A13 L12 A11 L9 | L9 A11 L12 A13 | A10 L3 A8 | L3 A8 L8 A10 | A10 L8 A8 L3 | A14 L5 A12 L8 | L8 A12 L5 A14 | A14 L5 A12
fillet "Empalme3" radius 1 4 edges at (3, -28.2021, -21.5) (3, -5.2021, -21.5) (3, -5.2021, 25) (3, -28.2021, 25)
sketch "Boceto8" plane through (3, 0, 0) normal (1, 0, 0) x (0, 0, -1)
  circle A0 centre (-23, -5.2021) radius 3 projected
  circle A1 centre (5.4, 9.5) radius 4.25 projected
  arc A2 (-20.6357, 27.4329) -> (-20.3583, 24.1457) centre (-24.4, 25.46) ccw projected
  arc A3 (-20.3583, 24.1457) -> (-20.6357, 27.4329) centre (-18, 26) ccw projected
  arc A4 (-20.9998, -25.9662) -> (-24.0825, -31) centre (-23, -28.2021) ccw projected
  arc A5 (-20.0002, -28.2359) -> (-20.9998, -25.9662) centre (-18, -26) ccw projected
  arc A6 (-21.9175, -31) -> (-20.0002, -28.2359) centre (-23, -28.2021) ccw projected
  line L0 (-21.9175, -31) -> (22.4175, -31) projected
  arc A7 (20.5736, -27.5416) -> (22.4175, -31) centre (23.5, -28.2021) ccw projected
  arc A8 (20.9264, -26.6606) -> (20.5736, -27.5416) centre (18, -26) ccw projected
  arc A9 (24.5825, -31) -> (20.9264, -26.6606) centre (23.5, -28.2021) ccw projected
  line L1 (24.5825, -31) -> (28, -31) projected
  arc A10 (28, -31) -> (31, -28) centre (28, -28) ccw projected
  line L2 (31, -28) -> (31, -10.5) projected
  line L3 (31, -10.5) -> (27, -10.5) projected
  line L4 (27, -10.5) -> (27, 10.5) projected
  line L5 (27, 10.5) -> (31, 10.5) projected
  line L6 (31, 10.5) -> (31, 28) projected
  arc A11 (31, 28) -> (28, 31) centre (28, 28) ccw projected
  line L7 (28, 31) -> (-28, 31) projected
  arc A12 (-28, 31) -> (-31, 28) centre (-28, 28) ccw projected
  line L8 (-31, 28) -> (-31, 10.5) projected
  line L9 (-31, 10.5) -> (-27, 10.5) projected
  line L10 (-27, 10.5) -> (-27, -10.5) projected
  line L11 (-27, -10.5) -> (-31, -10.5) projected
  line L12 (-31, -10.5) -> (-31, -28) projected
  arc A13 (-31, -28) -> (-28, -31) centre (-28, -28) ccw projected
  line L13 (-28, -31) -> (-24.0825, -31) projected
  circle A14 centre (18, 26) radius 3 projected
  circle A15 centre (23.5, -5.2021) radius 3 projected
  line L14 (28, 31) -> (-28, 31) projected
  line L15 (28, 31) -> (28, 29.5)
  line L16 (28, 29.5) -> (13, 29.5)
  line L17 (13, 29.5) -> (13, -0.5)
  line L18 (13, -0.5) -> (27, -0.5)
  line L19 (27, -10.5) -> (27, 10.5) projected
  line L20 (27, -0.5) -> (27, 10.5)
  line L21 (27, 10.5) -> (31, 10.5)
  line L22 (28, 29.5) -> (28, 10.5)
  line L23 (13, 29.5) -> (11.5, 29.5)
  line L24 (11.5, 29.5) -> (11.5, 31)
  line L25 (11.5, 29.5) -> (11.5, -2)
  line L26 (11.5, -2) -> (27, -2)
  line L27 (27, -2) -> (27, -0.5)
  point P0 (0, 0)
  dimension "d89" = 1.5
  dimension "d90" = 15
  dimension "d91" = 30
  dimension "d92" = 1.5
  dimension "d93" = 31.5
extrude "Extrusión8" add sketch "Boceto8" along normal blind 46 contours L7 L15 L16 L23 L24 | A11 L6 L5 L22 L15 | L23 L17 L18 L4 L26 L25
sketch "Boceto10" plane through (0, 0, 0) normal (-1, 0, 0) x (0, 0, 1)
  line L0 (28, -31) -> (-28, -31) projected
  line L1 (0, -31) -> (-5, -31)
  line L2 (-5, -31) -> (-5, -33)
  line L3 (-5, -33) -> (5, -33)
  line L4 (5, -33) -> (5, -31)
  line L5 (5, -31) -> (0, -31)
  line L6 (0, 0) -> (-3.9582, 0)
  line L7 (0, 31) -> (-5, 31)
  line L8 (-5, 31) -> (-5, 33)
  line L9 (-5, 33) -> (5, 33)
  line L10 (5, 33) -> (5, 31)
  line L11 (5, 31) -> (0, 31)
  dimension "d96" = 5
  dimension "d97" = 2
  dimension "d98" = 10
extrude "Extrusión9" add sketch "Boceto10" against normal blind 35
fillet "Empalme6" radius 1 6 edges at (3, -31, 0) (3, 31, 0) (1.5, 31, 5) (1.5, 31, -5) (1.5, -31, 5) (1.5, -31, -5)
properties part number "pieza_nasa"
